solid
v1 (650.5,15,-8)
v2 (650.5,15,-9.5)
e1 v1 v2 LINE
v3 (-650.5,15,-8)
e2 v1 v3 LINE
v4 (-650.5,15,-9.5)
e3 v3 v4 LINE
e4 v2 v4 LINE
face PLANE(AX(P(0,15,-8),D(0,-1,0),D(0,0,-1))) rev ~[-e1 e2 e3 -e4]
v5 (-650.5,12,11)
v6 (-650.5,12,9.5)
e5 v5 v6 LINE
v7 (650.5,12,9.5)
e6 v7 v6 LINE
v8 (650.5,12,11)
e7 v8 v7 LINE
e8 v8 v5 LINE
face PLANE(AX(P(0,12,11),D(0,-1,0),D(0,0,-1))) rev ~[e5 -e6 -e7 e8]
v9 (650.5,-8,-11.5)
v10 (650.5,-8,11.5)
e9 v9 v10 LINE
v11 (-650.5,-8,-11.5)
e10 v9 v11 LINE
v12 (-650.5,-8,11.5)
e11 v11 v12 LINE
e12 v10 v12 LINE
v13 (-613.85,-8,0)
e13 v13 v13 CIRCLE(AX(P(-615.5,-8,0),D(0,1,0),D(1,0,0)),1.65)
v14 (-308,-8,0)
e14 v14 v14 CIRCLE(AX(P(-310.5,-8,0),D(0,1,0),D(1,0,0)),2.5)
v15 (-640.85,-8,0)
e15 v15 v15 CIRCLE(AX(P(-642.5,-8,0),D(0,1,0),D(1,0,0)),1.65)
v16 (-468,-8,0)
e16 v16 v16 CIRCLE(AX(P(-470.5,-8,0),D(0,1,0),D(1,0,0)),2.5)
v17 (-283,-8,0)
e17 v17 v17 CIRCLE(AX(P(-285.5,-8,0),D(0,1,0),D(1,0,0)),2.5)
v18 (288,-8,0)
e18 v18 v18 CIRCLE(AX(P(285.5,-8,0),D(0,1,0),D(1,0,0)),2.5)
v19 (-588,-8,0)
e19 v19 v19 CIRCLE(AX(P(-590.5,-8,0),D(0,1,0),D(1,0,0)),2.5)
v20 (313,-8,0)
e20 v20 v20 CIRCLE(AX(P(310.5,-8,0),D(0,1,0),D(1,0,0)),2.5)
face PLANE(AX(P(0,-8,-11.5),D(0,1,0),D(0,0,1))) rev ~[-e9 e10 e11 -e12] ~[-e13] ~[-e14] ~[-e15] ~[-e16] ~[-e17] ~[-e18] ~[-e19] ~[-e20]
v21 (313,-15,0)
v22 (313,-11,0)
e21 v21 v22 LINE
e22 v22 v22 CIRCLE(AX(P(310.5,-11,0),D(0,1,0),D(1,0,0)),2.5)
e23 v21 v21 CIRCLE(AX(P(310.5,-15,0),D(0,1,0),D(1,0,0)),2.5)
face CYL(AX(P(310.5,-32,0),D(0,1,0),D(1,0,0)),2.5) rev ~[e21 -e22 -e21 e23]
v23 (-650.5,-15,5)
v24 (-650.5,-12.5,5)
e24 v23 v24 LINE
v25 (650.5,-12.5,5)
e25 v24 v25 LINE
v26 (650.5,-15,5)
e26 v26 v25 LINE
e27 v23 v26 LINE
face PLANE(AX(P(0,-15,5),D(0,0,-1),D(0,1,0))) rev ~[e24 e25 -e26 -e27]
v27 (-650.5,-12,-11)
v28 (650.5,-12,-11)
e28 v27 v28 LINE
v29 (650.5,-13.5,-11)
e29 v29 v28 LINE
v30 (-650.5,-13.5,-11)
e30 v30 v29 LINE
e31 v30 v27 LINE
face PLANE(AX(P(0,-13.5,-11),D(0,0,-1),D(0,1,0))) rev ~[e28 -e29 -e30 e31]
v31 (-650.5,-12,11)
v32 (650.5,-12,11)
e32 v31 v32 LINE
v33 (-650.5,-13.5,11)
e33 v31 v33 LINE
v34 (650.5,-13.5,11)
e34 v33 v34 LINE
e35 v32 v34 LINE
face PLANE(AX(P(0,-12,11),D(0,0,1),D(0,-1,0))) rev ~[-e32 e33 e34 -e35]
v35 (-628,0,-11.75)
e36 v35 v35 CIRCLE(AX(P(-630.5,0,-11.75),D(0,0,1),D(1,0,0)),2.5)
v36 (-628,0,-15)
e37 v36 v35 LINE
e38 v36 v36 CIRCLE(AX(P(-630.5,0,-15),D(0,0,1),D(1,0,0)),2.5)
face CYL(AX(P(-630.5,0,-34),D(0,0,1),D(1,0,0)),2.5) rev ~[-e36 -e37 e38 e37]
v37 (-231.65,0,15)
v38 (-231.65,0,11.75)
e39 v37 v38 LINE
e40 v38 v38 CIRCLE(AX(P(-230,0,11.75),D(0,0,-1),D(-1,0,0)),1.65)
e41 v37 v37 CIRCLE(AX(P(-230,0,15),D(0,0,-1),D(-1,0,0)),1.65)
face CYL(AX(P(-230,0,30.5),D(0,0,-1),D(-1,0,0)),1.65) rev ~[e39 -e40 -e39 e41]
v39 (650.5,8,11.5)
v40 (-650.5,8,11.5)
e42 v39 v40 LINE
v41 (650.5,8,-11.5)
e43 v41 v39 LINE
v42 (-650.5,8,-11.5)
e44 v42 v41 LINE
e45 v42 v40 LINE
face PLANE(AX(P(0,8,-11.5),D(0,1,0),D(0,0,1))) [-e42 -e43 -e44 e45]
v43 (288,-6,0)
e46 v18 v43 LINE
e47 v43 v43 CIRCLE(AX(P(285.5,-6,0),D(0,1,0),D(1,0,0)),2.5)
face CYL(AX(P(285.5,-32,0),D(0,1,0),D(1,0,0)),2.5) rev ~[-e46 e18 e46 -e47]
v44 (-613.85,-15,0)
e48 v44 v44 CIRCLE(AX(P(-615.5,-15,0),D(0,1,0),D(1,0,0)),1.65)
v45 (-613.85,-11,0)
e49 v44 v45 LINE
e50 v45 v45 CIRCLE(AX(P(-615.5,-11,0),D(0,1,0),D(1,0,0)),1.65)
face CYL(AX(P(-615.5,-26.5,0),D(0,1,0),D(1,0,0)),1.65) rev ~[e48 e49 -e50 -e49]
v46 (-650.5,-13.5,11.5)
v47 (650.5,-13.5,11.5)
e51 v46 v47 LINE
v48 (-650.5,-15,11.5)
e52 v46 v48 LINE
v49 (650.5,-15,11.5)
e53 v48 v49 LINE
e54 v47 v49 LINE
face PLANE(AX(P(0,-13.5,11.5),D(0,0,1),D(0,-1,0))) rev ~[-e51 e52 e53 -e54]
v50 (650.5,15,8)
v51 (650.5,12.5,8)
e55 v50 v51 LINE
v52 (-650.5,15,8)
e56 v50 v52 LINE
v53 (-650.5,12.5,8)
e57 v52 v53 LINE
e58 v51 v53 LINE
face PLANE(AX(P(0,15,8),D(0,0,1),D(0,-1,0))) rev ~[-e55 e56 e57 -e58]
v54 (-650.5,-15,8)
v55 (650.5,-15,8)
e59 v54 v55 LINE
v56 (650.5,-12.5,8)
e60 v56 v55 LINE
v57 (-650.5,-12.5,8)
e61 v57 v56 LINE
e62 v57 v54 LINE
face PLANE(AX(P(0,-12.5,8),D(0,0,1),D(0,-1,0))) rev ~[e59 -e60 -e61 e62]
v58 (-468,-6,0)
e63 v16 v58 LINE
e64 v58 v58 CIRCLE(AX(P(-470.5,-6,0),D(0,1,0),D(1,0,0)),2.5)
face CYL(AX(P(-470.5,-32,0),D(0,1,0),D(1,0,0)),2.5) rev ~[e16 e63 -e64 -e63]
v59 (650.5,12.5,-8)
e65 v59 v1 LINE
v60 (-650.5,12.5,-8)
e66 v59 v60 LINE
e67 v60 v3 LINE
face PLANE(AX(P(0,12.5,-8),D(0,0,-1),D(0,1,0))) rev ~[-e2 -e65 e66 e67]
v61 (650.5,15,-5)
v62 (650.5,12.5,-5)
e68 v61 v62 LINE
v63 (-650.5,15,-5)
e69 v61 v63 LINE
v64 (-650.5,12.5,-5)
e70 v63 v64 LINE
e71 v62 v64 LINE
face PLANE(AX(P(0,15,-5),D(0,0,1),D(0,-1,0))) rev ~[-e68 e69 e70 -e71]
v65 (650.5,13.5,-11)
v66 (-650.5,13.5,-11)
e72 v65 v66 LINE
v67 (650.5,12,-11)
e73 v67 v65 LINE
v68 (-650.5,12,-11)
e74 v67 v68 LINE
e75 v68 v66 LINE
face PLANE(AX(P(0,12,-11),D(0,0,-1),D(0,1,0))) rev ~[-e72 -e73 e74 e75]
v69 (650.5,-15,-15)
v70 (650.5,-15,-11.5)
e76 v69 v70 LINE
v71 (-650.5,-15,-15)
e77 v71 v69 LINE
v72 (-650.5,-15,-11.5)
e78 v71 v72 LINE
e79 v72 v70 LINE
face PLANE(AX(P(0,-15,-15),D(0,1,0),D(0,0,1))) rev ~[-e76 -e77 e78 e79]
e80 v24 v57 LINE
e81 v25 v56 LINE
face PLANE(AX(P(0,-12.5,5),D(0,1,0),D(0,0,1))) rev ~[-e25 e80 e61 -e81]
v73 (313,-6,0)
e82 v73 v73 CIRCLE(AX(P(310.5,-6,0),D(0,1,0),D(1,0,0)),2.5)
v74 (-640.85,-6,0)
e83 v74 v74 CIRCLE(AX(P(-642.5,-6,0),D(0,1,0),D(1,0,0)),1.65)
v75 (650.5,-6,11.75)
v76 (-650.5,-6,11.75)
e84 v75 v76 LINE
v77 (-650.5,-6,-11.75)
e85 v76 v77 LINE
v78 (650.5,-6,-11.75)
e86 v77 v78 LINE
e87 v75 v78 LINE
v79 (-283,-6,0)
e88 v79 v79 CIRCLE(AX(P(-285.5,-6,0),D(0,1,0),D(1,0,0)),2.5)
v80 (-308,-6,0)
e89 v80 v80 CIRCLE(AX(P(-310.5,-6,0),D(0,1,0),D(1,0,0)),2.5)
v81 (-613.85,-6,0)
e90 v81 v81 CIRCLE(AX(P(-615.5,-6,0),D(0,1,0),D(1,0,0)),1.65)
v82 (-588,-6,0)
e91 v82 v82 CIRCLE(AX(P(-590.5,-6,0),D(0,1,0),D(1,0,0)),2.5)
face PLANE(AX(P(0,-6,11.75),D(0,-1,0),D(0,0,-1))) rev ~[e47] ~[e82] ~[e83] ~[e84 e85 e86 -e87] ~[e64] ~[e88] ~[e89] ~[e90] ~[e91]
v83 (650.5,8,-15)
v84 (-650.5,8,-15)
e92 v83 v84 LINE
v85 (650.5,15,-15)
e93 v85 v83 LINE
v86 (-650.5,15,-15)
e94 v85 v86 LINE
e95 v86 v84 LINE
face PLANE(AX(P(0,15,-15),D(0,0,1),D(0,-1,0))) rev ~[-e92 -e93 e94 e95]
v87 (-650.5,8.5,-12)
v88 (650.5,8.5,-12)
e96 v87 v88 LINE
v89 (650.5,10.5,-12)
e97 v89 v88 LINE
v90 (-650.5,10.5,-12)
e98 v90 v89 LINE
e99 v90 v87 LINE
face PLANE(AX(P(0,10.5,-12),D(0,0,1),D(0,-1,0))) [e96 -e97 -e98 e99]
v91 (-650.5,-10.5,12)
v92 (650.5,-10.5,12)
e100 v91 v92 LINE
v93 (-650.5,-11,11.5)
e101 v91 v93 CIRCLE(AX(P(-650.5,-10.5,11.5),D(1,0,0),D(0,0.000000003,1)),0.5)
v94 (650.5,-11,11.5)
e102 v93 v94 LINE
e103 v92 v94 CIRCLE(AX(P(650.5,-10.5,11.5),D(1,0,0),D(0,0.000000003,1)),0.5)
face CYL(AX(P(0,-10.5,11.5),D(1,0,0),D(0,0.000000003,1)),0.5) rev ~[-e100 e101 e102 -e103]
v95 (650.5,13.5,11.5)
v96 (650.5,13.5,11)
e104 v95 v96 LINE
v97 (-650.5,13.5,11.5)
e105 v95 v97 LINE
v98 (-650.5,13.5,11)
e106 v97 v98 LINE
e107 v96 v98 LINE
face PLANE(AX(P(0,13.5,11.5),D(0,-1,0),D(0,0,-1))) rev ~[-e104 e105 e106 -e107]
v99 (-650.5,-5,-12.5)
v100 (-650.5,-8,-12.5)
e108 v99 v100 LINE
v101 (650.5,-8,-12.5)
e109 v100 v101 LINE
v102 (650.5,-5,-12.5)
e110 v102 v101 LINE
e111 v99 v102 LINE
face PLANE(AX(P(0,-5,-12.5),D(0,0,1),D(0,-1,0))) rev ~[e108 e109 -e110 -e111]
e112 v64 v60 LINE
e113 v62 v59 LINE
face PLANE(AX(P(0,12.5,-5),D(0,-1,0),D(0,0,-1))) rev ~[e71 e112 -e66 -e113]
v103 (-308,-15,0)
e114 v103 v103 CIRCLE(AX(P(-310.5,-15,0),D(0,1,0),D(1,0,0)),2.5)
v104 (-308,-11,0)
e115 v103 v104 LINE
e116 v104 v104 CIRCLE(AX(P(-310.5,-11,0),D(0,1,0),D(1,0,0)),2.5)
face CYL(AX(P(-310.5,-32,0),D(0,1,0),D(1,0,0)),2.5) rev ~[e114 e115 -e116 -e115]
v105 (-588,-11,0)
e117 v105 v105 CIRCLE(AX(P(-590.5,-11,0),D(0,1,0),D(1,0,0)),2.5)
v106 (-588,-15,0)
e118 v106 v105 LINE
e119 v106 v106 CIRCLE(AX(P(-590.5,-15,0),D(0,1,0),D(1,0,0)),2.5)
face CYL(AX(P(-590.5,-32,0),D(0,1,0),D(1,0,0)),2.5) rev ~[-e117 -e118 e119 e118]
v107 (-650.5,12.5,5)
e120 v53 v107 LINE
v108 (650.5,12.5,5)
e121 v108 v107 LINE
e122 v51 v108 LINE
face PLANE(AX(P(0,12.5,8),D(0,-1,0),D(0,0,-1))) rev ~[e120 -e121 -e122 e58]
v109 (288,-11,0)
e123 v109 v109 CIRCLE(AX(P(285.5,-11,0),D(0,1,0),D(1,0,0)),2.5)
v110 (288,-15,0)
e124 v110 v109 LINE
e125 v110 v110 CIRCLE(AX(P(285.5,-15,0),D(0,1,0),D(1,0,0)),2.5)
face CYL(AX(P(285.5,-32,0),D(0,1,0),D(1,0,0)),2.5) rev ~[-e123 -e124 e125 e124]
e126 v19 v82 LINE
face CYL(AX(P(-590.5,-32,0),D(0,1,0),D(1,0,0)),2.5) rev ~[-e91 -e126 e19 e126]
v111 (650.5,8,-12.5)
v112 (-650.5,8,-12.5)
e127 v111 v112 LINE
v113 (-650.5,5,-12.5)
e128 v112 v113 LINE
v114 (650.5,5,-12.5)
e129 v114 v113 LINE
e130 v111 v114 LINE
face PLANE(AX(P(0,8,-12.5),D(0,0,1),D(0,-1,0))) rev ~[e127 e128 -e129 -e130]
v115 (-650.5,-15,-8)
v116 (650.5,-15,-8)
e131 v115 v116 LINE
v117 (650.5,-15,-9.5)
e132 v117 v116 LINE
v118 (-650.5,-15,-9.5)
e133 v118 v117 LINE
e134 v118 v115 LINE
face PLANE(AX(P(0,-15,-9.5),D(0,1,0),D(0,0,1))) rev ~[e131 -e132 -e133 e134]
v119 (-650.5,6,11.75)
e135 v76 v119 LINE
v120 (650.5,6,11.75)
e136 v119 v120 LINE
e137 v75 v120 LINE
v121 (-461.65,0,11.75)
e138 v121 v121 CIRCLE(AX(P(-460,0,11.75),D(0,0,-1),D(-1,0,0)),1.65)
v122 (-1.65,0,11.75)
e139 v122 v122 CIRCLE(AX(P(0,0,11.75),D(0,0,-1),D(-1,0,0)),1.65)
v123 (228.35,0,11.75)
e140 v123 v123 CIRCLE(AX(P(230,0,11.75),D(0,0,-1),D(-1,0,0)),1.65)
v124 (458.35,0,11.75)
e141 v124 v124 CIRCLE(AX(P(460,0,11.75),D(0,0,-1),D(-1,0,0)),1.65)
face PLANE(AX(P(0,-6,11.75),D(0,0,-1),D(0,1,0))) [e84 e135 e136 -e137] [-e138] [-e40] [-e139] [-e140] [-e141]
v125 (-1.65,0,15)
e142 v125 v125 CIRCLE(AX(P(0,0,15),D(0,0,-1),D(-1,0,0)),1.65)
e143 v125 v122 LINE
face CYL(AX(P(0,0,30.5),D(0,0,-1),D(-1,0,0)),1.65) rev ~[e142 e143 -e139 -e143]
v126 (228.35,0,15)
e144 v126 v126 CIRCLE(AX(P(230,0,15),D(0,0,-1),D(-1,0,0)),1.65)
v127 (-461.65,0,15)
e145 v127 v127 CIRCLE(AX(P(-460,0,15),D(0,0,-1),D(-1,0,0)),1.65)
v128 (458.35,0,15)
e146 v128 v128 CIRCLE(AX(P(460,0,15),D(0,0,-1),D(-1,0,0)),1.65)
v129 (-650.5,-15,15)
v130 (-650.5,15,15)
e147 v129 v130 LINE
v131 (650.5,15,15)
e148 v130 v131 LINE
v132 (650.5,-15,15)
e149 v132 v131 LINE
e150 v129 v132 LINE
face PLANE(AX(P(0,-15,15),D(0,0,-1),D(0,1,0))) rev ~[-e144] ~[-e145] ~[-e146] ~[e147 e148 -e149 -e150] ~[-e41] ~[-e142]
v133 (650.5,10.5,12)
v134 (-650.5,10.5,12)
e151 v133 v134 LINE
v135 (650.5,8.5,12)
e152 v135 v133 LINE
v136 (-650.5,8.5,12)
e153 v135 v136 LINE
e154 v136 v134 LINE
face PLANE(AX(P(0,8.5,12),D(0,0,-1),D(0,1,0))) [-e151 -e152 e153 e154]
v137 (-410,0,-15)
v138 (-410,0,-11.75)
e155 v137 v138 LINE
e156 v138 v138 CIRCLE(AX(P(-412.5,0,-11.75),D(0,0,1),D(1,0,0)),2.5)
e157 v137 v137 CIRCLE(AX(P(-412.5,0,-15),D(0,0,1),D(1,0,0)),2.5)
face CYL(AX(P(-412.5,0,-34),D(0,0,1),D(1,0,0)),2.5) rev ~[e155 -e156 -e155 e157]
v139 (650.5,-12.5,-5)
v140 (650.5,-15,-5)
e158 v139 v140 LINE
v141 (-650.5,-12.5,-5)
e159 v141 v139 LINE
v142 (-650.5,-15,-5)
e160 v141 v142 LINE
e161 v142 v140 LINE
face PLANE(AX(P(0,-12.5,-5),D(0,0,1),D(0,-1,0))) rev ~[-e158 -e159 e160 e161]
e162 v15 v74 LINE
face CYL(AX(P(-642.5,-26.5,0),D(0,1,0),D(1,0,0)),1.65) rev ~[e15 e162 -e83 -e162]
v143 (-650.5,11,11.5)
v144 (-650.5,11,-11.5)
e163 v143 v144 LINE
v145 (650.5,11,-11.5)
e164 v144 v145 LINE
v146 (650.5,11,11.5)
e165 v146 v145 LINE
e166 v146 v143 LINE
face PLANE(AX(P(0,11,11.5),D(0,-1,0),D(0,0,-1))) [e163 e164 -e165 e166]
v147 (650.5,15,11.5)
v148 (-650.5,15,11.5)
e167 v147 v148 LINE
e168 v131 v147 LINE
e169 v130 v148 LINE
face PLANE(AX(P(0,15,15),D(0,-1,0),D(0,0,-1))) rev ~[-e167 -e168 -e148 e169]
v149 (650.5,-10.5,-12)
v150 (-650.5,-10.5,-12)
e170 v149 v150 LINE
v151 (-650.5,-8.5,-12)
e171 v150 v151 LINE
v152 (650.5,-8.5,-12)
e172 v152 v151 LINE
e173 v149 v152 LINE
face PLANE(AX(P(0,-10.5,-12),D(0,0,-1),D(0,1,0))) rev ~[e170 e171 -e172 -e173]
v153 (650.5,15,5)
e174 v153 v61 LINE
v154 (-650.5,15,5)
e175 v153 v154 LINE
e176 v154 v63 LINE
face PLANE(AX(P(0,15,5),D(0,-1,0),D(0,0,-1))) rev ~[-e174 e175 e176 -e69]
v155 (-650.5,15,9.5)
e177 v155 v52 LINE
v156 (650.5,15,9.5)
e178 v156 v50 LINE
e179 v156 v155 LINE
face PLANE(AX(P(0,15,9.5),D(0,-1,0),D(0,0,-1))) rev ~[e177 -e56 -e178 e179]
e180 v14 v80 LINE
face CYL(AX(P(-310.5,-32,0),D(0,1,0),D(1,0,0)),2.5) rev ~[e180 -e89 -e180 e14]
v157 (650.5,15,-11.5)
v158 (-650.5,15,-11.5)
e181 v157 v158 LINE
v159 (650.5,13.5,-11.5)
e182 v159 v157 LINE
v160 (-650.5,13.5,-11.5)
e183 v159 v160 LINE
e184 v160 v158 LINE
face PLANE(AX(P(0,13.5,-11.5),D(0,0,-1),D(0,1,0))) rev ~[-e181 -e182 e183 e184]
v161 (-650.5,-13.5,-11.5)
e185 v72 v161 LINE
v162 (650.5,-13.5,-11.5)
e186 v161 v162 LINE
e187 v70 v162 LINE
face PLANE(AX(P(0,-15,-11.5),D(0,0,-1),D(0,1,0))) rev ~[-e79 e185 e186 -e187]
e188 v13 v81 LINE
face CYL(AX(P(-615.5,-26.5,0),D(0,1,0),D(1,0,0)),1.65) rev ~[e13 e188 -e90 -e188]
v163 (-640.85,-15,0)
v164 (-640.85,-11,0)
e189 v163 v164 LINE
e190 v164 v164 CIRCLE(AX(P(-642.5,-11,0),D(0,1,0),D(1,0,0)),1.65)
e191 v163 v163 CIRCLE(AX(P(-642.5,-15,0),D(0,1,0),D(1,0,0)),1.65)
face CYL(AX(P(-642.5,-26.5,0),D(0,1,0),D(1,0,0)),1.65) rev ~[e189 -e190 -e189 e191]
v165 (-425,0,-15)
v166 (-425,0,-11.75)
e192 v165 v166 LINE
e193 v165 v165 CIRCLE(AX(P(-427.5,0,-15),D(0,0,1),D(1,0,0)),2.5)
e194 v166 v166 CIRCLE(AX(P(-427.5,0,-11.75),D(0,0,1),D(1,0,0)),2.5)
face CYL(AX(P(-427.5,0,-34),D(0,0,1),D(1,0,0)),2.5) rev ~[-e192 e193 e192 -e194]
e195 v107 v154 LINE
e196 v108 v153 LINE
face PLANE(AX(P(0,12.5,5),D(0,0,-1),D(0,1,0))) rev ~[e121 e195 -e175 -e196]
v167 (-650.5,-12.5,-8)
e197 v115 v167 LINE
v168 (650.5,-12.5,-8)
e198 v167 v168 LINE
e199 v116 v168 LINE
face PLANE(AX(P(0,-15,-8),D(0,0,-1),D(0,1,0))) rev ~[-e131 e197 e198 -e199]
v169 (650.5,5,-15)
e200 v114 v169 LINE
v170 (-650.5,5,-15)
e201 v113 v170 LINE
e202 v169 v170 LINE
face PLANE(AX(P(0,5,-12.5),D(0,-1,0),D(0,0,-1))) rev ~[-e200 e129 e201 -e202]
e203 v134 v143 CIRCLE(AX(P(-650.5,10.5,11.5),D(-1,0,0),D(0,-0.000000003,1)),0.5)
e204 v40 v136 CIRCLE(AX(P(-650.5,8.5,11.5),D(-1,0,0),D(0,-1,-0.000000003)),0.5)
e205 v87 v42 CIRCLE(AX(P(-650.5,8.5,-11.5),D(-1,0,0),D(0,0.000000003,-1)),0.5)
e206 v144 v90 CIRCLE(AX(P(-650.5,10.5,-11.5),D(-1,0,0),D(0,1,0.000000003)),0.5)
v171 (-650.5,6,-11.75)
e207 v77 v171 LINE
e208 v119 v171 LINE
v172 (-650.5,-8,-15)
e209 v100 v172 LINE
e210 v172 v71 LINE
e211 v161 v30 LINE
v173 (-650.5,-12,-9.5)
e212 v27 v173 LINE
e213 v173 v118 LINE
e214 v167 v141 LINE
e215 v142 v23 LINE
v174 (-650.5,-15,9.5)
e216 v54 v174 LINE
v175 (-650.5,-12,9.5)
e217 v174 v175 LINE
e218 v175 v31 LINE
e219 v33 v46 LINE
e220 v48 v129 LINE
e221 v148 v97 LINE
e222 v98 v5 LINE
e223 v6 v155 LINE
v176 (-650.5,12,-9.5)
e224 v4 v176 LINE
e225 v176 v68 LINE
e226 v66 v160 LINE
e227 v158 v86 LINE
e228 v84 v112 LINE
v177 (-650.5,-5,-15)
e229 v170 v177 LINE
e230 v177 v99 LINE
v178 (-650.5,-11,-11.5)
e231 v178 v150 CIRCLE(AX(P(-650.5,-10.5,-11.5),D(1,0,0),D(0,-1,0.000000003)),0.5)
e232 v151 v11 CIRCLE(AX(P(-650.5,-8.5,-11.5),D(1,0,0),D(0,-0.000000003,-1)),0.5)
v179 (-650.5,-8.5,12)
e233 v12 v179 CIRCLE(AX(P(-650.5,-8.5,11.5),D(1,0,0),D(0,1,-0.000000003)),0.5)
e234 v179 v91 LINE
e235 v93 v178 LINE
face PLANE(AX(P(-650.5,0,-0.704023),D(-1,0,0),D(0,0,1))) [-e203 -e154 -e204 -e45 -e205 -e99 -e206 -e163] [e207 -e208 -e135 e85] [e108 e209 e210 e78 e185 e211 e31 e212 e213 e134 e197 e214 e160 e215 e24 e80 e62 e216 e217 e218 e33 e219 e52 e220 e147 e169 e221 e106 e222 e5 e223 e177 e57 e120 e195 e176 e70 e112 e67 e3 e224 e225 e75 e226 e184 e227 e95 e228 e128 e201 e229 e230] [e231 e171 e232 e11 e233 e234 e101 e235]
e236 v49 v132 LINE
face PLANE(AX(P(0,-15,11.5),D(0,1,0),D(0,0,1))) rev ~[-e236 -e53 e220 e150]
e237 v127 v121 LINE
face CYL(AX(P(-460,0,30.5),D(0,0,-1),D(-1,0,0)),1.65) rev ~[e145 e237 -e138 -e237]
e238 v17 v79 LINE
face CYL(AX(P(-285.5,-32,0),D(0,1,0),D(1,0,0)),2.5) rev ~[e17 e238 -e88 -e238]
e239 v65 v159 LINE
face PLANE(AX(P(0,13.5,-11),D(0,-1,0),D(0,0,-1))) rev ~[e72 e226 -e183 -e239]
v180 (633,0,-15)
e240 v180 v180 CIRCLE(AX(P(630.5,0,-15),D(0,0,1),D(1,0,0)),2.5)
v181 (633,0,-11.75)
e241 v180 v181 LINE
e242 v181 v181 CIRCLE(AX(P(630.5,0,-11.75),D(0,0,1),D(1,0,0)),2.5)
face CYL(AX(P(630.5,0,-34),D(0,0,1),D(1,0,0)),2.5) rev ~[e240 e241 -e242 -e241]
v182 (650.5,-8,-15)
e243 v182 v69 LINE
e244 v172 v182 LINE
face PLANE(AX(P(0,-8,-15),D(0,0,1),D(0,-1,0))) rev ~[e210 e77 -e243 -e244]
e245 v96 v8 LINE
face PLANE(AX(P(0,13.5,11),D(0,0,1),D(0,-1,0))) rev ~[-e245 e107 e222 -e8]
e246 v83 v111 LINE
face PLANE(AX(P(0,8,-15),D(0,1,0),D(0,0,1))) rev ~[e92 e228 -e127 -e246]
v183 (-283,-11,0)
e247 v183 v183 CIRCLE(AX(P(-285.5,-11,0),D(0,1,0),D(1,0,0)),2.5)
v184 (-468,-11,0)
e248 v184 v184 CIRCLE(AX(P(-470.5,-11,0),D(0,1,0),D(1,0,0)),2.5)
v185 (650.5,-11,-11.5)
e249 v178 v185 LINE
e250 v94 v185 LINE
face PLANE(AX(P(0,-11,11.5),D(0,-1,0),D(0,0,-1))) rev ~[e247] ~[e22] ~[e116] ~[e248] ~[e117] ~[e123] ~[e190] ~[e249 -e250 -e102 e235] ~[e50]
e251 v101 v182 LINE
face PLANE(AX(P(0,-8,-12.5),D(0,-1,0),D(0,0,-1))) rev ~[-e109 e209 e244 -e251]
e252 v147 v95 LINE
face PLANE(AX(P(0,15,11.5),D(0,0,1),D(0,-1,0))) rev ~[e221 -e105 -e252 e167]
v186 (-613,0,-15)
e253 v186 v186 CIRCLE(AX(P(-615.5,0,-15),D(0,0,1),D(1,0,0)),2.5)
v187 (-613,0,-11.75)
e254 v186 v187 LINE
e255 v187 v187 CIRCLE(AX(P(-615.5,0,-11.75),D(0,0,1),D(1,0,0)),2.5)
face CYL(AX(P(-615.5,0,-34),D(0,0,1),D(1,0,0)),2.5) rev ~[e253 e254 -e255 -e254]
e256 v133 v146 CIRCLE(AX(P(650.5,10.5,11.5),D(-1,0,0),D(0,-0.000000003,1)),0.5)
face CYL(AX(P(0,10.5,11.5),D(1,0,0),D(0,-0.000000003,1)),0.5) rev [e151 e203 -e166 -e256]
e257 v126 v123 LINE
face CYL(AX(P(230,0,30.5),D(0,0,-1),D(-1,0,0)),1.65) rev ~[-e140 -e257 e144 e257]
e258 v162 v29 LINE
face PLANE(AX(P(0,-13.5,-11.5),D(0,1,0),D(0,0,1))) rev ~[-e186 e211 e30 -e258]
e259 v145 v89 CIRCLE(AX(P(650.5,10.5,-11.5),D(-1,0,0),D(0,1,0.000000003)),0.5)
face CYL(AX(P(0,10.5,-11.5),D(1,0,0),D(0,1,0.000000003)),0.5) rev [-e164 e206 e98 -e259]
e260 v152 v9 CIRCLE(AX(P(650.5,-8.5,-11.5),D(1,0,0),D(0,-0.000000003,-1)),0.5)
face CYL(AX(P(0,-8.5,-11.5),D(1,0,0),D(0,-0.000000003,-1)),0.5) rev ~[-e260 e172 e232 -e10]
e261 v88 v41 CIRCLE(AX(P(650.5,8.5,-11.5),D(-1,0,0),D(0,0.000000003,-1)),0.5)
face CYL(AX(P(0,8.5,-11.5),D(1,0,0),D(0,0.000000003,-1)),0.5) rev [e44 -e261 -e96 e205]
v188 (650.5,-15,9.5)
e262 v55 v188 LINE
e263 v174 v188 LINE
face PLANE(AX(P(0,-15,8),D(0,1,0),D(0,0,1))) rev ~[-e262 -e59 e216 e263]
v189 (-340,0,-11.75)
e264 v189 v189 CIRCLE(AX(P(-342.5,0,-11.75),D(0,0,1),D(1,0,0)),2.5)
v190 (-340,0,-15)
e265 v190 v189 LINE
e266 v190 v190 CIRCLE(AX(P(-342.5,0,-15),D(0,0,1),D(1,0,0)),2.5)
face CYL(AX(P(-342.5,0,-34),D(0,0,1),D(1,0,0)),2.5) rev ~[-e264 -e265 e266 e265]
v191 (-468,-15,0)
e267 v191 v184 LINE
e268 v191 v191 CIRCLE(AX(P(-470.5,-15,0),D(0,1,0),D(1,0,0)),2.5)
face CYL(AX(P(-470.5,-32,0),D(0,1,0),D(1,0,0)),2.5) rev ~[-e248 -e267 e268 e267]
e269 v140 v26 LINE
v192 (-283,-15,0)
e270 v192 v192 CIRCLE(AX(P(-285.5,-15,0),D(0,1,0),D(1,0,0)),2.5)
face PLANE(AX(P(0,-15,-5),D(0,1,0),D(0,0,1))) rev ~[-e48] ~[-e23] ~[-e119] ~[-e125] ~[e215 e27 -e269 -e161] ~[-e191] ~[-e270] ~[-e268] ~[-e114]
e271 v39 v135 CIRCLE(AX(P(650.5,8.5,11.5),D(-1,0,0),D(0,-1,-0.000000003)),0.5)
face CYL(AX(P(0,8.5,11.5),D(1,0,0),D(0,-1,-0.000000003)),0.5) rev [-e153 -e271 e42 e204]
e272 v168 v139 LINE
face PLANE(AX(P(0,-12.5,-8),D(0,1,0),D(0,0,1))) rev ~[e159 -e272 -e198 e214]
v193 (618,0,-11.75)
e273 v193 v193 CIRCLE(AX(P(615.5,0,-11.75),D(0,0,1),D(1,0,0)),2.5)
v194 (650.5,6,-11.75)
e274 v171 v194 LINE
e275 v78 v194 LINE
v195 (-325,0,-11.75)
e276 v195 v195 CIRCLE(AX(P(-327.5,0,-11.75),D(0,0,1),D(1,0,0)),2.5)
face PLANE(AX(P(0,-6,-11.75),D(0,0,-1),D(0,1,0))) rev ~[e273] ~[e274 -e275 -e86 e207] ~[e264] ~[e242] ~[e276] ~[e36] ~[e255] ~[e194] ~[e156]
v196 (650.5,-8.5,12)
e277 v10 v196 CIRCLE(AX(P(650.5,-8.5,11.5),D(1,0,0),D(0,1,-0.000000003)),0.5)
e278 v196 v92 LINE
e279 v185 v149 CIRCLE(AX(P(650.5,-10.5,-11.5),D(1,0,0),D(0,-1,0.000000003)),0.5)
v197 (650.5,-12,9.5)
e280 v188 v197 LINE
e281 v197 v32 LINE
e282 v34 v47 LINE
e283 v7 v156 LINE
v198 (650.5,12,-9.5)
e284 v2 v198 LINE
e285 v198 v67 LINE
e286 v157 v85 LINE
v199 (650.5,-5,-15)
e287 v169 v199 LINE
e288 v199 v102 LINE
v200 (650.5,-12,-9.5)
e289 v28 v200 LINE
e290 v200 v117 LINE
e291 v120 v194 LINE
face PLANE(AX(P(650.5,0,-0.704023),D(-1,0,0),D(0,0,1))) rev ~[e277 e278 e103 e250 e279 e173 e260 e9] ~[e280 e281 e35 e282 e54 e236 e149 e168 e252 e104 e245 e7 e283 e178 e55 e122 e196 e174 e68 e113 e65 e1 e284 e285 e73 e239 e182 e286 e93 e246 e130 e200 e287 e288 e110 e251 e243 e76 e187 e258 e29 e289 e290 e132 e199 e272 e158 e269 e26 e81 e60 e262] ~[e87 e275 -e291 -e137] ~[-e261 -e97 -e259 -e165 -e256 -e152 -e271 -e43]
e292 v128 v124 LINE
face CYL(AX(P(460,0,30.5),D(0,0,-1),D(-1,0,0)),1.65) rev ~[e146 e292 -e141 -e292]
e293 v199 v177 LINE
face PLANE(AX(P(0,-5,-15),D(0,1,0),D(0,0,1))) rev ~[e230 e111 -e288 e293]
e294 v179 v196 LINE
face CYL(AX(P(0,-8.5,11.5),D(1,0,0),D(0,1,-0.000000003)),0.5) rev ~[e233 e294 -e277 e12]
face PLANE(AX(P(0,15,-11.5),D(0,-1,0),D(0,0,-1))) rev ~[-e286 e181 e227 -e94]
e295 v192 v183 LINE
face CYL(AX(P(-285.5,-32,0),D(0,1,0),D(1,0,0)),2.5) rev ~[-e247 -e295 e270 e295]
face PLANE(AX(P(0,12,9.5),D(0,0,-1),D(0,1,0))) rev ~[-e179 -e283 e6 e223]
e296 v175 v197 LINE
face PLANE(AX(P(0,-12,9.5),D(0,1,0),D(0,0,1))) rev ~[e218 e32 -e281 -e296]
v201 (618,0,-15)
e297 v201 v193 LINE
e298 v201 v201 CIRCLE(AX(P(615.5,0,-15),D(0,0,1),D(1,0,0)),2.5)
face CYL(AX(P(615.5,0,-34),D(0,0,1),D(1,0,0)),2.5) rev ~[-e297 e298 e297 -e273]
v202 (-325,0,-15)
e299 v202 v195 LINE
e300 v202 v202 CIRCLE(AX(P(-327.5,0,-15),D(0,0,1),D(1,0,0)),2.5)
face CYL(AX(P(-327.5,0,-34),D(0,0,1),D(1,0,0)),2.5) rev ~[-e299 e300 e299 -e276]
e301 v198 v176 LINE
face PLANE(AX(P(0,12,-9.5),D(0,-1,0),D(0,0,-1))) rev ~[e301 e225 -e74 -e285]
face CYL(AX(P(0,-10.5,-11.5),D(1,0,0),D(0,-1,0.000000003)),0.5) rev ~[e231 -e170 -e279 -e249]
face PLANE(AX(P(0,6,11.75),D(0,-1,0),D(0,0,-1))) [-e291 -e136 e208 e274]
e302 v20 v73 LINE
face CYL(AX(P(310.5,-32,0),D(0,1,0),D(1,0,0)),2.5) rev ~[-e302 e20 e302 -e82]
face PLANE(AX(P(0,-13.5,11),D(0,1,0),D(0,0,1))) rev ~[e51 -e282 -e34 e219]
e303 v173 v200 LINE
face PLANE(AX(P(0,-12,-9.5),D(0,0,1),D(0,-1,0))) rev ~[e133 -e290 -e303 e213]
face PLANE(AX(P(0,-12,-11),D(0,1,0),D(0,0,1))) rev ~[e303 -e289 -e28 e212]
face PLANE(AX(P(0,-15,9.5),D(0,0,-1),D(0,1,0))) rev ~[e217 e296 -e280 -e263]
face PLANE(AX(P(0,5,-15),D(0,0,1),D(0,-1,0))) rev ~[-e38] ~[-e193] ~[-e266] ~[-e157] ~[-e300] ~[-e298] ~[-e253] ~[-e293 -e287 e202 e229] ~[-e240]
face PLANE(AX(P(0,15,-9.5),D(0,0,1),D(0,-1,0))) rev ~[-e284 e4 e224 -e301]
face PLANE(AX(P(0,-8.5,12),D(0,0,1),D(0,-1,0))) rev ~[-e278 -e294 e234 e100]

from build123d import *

# Parameters (mm, degrees)
SKETCH_1_W             = 23.5
SKETCH_1_H             = 12
EXTRUDE_1_DEPTH        = 650.5
HOLE_WIZARD_M6_1_D     = 5
HOLE_WIZARD_M6_1_DEPTH = 19
HOLE_WIZARD_M6_1_TIP   = 1.502151548
HOLE_WIZARD_M4_1_D     = 3.3
HOLE_WIZARD_M4_1_DEPTH = 15.5
HOLE_WIZARD_M4_1_TIP   = 0.991420021
HOLE_WIZARD_M6_2_D     = 5
HOLE_WIZARD_M6_2_DEPTH = 17
HOLE_WIZARD_M6_2_TIP   = 1.502151548
HOLE_WIZARD_M4_2_D     = 3.3
HOLE_WIZARD_M4_2_DEPTH = 11.5
HOLE_WIZARD_M4_2_TIP   = 0.991420021


with BuildPart() as part:
    # 草图1 → 凸台-拉伸1 (new, symmetric)
    with BuildSketch(Plane(origin=(0, 0, 0), x_dir=(0, 0, -1), z_dir=(1, 0, 0))):
        Polygon((-15, 15), (-11.5, 15), (-11.5, 13.5), (-11, 13.5), (-11, 12), (-9.5, 12), (-9.5, 15), (-8, 15), (-8, 12.5), (-5, 12.5), (-5, 15), (5, 15), (5, 12.5), (8, 12.5), (8, 15), (9.5, 15), (9.5, 12), (11, 12), (11, 13.5), (11.5, 13.5), (11.5, 15), (15, 15), (15, 8), (12.5, 8), (12.5, 5), (15, 5), (15, -5), (12.5, -5), (12.5, -8), (15, -8), (15, -15), (11.5, -15), (11.5, -13.5), (11, -13.5), (11, -12), (9.5, -12), (9.5, -15), (8, -15), (8, -12.5), (5, -12.5), (5, -15), (-5, -15), (-5, -12.5), (-8, -12.5), (-8, -15), (-9.5, -15), (-9.5, -12), (-11, -12), (-11, -13.5), (-11.5, -13.5), (-11.5, -15), (-15, -15), align=None)
        with BuildLine():
            Line((12, -10.5), (12, -8.5))
            ThreePointArc((12, -8.5), (11.853553391, -8.146446609), (11.5, -8))
            Line((11.5, -8), (-11.5, -8))
            ThreePointArc((-11.5, -8), (-11.853553391, -8.146446609), (-12, -8.5))
            Line((-12, -8.5), (-12, -10.5))
            ThreePointArc((-12, -10.5), (-11.853553391, -10.853553391), (-11.5, -11))
            Line((-11.5, -11), (11.5, -11))
            ThreePointArc((11.5, -11), (11.853553391, -10.853553391), (12, -10.5))
        make_face(mode=Mode.SUBTRACT)
        with BuildLine():
            Line((-11.5, 11), (11.5, 11))
            ThreePointArc((11.5, 11), (11.853553391, 10.853553391), (12, 10.5))
            Line((12, 10.5), (12, 8.5))
            ThreePointArc((12, 8.5), (11.853553391, 8.146446609), (11.5, 8))
            Line((11.5, 8), (-11.5, 8))
            ThreePointArc((-11.5, 8), (-11.853553391, 8.146446609), (-12, 8.5))
            Line((-12, 8.5), (-12, 10.5))
            ThreePointArc((-12, 10.5), (-11.853553391, 10.853553391), (-11.5, 11))
        make_face(mode=Mode.SUBTRACT)
        Rectangle(SKETCH_1_W, SKETCH_1_H, mode=Mode.SUBTRACT)
    extrude(amount=EXTRUDE_1_DEPTH, both=True)

    # M6 螺纹孔1
    with Locations(Plane(origin=(0, 0, -15), x_dir=(-1, 0, 0), z_dir=(0, 0, -1))):
        with Locations((-630.5, 0), (-615.5, 0), (342.5, 0), (327.5, 0), (427.5, 0), (412.5, 0), (630.5, 0), (615.5, 0)):
            Hole(HOLE_WIZARD_M6_1_D / 2, depth=HOLE_WIZARD_M6_1_DEPTH)
            with Locations((0, 0, -(HOLE_WIZARD_M6_1_DEPTH + HOLE_WIZARD_M6_1_TIP / 2))):  # 118° drill point
                Cone(0, HOLE_WIZARD_M6_1_D / 2, HOLE_WIZARD_M6_1_TIP, mode=Mode.SUBTRACT)

    # M4 螺纹孔1
    with Locations(Plane.XY.offset(15)):
        with Locations((-460, 0), (-230, 0), (0, 0), (230, 0), (460, 0)):
            Hole(HOLE_WIZARD_M4_1_D / 2, depth=HOLE_WIZARD_M4_1_DEPTH)
            with Locations((0, 0, -(HOLE_WIZARD_M4_1_DEPTH + HOLE_WIZARD_M4_1_TIP / 2))):  # 118° drill point
                Cone(0, HOLE_WIZARD_M4_1_D / 2, HOLE_WIZARD_M4_1_TIP, mode=Mode.SUBTRACT)

    # M6 螺纹孔2
    with Locations(Plane(origin=(0, -15, 0), x_dir=(-1, 0, 0), z_dir=(0, -1, 0))):
        with Locations((310.5, 0), (285.5, 0), (-285.5, 0), (-310.5, 0), (590.5, 0), (470.5, 0)):
            Hole(HOLE_WIZARD_M6_2_D / 2, depth=HOLE_WIZARD_M6_2_DEPTH)
            with Locations((0, 0, -(HOLE_WIZARD_M6_2_DEPTH + HOLE_WIZARD_M6_2_TIP / 2))):  # 118° drill point
                Cone(0, HOLE_WIZARD_M6_2_D / 2, HOLE_WIZARD_M6_2_TIP, mode=Mode.SUBTRACT)

    # M4 螺纹孔2
    with Locations(Plane(origin=(0, -15, 0), x_dir=(-1, 0, 0), z_dir=(0, -1, 0))):
        with Locations((642.5, 0), (615.5, 0)):
            Hole(HOLE_WIZARD_M4_2_D / 2, depth=HOLE_WIZARD_M4_2_DEPTH)
            with Locations((0, 0, -(HOLE_WIZARD_M4_2_DEPTH + HOLE_WIZARD_M4_2_TIP / 2))):  # 118° drill point
                Cone(0, HOLE_WIZARD_M4_2_D / 2, HOLE_WIZARD_M4_2_TIP, mode=Mode.SUBTRACT)


solid = part.part
